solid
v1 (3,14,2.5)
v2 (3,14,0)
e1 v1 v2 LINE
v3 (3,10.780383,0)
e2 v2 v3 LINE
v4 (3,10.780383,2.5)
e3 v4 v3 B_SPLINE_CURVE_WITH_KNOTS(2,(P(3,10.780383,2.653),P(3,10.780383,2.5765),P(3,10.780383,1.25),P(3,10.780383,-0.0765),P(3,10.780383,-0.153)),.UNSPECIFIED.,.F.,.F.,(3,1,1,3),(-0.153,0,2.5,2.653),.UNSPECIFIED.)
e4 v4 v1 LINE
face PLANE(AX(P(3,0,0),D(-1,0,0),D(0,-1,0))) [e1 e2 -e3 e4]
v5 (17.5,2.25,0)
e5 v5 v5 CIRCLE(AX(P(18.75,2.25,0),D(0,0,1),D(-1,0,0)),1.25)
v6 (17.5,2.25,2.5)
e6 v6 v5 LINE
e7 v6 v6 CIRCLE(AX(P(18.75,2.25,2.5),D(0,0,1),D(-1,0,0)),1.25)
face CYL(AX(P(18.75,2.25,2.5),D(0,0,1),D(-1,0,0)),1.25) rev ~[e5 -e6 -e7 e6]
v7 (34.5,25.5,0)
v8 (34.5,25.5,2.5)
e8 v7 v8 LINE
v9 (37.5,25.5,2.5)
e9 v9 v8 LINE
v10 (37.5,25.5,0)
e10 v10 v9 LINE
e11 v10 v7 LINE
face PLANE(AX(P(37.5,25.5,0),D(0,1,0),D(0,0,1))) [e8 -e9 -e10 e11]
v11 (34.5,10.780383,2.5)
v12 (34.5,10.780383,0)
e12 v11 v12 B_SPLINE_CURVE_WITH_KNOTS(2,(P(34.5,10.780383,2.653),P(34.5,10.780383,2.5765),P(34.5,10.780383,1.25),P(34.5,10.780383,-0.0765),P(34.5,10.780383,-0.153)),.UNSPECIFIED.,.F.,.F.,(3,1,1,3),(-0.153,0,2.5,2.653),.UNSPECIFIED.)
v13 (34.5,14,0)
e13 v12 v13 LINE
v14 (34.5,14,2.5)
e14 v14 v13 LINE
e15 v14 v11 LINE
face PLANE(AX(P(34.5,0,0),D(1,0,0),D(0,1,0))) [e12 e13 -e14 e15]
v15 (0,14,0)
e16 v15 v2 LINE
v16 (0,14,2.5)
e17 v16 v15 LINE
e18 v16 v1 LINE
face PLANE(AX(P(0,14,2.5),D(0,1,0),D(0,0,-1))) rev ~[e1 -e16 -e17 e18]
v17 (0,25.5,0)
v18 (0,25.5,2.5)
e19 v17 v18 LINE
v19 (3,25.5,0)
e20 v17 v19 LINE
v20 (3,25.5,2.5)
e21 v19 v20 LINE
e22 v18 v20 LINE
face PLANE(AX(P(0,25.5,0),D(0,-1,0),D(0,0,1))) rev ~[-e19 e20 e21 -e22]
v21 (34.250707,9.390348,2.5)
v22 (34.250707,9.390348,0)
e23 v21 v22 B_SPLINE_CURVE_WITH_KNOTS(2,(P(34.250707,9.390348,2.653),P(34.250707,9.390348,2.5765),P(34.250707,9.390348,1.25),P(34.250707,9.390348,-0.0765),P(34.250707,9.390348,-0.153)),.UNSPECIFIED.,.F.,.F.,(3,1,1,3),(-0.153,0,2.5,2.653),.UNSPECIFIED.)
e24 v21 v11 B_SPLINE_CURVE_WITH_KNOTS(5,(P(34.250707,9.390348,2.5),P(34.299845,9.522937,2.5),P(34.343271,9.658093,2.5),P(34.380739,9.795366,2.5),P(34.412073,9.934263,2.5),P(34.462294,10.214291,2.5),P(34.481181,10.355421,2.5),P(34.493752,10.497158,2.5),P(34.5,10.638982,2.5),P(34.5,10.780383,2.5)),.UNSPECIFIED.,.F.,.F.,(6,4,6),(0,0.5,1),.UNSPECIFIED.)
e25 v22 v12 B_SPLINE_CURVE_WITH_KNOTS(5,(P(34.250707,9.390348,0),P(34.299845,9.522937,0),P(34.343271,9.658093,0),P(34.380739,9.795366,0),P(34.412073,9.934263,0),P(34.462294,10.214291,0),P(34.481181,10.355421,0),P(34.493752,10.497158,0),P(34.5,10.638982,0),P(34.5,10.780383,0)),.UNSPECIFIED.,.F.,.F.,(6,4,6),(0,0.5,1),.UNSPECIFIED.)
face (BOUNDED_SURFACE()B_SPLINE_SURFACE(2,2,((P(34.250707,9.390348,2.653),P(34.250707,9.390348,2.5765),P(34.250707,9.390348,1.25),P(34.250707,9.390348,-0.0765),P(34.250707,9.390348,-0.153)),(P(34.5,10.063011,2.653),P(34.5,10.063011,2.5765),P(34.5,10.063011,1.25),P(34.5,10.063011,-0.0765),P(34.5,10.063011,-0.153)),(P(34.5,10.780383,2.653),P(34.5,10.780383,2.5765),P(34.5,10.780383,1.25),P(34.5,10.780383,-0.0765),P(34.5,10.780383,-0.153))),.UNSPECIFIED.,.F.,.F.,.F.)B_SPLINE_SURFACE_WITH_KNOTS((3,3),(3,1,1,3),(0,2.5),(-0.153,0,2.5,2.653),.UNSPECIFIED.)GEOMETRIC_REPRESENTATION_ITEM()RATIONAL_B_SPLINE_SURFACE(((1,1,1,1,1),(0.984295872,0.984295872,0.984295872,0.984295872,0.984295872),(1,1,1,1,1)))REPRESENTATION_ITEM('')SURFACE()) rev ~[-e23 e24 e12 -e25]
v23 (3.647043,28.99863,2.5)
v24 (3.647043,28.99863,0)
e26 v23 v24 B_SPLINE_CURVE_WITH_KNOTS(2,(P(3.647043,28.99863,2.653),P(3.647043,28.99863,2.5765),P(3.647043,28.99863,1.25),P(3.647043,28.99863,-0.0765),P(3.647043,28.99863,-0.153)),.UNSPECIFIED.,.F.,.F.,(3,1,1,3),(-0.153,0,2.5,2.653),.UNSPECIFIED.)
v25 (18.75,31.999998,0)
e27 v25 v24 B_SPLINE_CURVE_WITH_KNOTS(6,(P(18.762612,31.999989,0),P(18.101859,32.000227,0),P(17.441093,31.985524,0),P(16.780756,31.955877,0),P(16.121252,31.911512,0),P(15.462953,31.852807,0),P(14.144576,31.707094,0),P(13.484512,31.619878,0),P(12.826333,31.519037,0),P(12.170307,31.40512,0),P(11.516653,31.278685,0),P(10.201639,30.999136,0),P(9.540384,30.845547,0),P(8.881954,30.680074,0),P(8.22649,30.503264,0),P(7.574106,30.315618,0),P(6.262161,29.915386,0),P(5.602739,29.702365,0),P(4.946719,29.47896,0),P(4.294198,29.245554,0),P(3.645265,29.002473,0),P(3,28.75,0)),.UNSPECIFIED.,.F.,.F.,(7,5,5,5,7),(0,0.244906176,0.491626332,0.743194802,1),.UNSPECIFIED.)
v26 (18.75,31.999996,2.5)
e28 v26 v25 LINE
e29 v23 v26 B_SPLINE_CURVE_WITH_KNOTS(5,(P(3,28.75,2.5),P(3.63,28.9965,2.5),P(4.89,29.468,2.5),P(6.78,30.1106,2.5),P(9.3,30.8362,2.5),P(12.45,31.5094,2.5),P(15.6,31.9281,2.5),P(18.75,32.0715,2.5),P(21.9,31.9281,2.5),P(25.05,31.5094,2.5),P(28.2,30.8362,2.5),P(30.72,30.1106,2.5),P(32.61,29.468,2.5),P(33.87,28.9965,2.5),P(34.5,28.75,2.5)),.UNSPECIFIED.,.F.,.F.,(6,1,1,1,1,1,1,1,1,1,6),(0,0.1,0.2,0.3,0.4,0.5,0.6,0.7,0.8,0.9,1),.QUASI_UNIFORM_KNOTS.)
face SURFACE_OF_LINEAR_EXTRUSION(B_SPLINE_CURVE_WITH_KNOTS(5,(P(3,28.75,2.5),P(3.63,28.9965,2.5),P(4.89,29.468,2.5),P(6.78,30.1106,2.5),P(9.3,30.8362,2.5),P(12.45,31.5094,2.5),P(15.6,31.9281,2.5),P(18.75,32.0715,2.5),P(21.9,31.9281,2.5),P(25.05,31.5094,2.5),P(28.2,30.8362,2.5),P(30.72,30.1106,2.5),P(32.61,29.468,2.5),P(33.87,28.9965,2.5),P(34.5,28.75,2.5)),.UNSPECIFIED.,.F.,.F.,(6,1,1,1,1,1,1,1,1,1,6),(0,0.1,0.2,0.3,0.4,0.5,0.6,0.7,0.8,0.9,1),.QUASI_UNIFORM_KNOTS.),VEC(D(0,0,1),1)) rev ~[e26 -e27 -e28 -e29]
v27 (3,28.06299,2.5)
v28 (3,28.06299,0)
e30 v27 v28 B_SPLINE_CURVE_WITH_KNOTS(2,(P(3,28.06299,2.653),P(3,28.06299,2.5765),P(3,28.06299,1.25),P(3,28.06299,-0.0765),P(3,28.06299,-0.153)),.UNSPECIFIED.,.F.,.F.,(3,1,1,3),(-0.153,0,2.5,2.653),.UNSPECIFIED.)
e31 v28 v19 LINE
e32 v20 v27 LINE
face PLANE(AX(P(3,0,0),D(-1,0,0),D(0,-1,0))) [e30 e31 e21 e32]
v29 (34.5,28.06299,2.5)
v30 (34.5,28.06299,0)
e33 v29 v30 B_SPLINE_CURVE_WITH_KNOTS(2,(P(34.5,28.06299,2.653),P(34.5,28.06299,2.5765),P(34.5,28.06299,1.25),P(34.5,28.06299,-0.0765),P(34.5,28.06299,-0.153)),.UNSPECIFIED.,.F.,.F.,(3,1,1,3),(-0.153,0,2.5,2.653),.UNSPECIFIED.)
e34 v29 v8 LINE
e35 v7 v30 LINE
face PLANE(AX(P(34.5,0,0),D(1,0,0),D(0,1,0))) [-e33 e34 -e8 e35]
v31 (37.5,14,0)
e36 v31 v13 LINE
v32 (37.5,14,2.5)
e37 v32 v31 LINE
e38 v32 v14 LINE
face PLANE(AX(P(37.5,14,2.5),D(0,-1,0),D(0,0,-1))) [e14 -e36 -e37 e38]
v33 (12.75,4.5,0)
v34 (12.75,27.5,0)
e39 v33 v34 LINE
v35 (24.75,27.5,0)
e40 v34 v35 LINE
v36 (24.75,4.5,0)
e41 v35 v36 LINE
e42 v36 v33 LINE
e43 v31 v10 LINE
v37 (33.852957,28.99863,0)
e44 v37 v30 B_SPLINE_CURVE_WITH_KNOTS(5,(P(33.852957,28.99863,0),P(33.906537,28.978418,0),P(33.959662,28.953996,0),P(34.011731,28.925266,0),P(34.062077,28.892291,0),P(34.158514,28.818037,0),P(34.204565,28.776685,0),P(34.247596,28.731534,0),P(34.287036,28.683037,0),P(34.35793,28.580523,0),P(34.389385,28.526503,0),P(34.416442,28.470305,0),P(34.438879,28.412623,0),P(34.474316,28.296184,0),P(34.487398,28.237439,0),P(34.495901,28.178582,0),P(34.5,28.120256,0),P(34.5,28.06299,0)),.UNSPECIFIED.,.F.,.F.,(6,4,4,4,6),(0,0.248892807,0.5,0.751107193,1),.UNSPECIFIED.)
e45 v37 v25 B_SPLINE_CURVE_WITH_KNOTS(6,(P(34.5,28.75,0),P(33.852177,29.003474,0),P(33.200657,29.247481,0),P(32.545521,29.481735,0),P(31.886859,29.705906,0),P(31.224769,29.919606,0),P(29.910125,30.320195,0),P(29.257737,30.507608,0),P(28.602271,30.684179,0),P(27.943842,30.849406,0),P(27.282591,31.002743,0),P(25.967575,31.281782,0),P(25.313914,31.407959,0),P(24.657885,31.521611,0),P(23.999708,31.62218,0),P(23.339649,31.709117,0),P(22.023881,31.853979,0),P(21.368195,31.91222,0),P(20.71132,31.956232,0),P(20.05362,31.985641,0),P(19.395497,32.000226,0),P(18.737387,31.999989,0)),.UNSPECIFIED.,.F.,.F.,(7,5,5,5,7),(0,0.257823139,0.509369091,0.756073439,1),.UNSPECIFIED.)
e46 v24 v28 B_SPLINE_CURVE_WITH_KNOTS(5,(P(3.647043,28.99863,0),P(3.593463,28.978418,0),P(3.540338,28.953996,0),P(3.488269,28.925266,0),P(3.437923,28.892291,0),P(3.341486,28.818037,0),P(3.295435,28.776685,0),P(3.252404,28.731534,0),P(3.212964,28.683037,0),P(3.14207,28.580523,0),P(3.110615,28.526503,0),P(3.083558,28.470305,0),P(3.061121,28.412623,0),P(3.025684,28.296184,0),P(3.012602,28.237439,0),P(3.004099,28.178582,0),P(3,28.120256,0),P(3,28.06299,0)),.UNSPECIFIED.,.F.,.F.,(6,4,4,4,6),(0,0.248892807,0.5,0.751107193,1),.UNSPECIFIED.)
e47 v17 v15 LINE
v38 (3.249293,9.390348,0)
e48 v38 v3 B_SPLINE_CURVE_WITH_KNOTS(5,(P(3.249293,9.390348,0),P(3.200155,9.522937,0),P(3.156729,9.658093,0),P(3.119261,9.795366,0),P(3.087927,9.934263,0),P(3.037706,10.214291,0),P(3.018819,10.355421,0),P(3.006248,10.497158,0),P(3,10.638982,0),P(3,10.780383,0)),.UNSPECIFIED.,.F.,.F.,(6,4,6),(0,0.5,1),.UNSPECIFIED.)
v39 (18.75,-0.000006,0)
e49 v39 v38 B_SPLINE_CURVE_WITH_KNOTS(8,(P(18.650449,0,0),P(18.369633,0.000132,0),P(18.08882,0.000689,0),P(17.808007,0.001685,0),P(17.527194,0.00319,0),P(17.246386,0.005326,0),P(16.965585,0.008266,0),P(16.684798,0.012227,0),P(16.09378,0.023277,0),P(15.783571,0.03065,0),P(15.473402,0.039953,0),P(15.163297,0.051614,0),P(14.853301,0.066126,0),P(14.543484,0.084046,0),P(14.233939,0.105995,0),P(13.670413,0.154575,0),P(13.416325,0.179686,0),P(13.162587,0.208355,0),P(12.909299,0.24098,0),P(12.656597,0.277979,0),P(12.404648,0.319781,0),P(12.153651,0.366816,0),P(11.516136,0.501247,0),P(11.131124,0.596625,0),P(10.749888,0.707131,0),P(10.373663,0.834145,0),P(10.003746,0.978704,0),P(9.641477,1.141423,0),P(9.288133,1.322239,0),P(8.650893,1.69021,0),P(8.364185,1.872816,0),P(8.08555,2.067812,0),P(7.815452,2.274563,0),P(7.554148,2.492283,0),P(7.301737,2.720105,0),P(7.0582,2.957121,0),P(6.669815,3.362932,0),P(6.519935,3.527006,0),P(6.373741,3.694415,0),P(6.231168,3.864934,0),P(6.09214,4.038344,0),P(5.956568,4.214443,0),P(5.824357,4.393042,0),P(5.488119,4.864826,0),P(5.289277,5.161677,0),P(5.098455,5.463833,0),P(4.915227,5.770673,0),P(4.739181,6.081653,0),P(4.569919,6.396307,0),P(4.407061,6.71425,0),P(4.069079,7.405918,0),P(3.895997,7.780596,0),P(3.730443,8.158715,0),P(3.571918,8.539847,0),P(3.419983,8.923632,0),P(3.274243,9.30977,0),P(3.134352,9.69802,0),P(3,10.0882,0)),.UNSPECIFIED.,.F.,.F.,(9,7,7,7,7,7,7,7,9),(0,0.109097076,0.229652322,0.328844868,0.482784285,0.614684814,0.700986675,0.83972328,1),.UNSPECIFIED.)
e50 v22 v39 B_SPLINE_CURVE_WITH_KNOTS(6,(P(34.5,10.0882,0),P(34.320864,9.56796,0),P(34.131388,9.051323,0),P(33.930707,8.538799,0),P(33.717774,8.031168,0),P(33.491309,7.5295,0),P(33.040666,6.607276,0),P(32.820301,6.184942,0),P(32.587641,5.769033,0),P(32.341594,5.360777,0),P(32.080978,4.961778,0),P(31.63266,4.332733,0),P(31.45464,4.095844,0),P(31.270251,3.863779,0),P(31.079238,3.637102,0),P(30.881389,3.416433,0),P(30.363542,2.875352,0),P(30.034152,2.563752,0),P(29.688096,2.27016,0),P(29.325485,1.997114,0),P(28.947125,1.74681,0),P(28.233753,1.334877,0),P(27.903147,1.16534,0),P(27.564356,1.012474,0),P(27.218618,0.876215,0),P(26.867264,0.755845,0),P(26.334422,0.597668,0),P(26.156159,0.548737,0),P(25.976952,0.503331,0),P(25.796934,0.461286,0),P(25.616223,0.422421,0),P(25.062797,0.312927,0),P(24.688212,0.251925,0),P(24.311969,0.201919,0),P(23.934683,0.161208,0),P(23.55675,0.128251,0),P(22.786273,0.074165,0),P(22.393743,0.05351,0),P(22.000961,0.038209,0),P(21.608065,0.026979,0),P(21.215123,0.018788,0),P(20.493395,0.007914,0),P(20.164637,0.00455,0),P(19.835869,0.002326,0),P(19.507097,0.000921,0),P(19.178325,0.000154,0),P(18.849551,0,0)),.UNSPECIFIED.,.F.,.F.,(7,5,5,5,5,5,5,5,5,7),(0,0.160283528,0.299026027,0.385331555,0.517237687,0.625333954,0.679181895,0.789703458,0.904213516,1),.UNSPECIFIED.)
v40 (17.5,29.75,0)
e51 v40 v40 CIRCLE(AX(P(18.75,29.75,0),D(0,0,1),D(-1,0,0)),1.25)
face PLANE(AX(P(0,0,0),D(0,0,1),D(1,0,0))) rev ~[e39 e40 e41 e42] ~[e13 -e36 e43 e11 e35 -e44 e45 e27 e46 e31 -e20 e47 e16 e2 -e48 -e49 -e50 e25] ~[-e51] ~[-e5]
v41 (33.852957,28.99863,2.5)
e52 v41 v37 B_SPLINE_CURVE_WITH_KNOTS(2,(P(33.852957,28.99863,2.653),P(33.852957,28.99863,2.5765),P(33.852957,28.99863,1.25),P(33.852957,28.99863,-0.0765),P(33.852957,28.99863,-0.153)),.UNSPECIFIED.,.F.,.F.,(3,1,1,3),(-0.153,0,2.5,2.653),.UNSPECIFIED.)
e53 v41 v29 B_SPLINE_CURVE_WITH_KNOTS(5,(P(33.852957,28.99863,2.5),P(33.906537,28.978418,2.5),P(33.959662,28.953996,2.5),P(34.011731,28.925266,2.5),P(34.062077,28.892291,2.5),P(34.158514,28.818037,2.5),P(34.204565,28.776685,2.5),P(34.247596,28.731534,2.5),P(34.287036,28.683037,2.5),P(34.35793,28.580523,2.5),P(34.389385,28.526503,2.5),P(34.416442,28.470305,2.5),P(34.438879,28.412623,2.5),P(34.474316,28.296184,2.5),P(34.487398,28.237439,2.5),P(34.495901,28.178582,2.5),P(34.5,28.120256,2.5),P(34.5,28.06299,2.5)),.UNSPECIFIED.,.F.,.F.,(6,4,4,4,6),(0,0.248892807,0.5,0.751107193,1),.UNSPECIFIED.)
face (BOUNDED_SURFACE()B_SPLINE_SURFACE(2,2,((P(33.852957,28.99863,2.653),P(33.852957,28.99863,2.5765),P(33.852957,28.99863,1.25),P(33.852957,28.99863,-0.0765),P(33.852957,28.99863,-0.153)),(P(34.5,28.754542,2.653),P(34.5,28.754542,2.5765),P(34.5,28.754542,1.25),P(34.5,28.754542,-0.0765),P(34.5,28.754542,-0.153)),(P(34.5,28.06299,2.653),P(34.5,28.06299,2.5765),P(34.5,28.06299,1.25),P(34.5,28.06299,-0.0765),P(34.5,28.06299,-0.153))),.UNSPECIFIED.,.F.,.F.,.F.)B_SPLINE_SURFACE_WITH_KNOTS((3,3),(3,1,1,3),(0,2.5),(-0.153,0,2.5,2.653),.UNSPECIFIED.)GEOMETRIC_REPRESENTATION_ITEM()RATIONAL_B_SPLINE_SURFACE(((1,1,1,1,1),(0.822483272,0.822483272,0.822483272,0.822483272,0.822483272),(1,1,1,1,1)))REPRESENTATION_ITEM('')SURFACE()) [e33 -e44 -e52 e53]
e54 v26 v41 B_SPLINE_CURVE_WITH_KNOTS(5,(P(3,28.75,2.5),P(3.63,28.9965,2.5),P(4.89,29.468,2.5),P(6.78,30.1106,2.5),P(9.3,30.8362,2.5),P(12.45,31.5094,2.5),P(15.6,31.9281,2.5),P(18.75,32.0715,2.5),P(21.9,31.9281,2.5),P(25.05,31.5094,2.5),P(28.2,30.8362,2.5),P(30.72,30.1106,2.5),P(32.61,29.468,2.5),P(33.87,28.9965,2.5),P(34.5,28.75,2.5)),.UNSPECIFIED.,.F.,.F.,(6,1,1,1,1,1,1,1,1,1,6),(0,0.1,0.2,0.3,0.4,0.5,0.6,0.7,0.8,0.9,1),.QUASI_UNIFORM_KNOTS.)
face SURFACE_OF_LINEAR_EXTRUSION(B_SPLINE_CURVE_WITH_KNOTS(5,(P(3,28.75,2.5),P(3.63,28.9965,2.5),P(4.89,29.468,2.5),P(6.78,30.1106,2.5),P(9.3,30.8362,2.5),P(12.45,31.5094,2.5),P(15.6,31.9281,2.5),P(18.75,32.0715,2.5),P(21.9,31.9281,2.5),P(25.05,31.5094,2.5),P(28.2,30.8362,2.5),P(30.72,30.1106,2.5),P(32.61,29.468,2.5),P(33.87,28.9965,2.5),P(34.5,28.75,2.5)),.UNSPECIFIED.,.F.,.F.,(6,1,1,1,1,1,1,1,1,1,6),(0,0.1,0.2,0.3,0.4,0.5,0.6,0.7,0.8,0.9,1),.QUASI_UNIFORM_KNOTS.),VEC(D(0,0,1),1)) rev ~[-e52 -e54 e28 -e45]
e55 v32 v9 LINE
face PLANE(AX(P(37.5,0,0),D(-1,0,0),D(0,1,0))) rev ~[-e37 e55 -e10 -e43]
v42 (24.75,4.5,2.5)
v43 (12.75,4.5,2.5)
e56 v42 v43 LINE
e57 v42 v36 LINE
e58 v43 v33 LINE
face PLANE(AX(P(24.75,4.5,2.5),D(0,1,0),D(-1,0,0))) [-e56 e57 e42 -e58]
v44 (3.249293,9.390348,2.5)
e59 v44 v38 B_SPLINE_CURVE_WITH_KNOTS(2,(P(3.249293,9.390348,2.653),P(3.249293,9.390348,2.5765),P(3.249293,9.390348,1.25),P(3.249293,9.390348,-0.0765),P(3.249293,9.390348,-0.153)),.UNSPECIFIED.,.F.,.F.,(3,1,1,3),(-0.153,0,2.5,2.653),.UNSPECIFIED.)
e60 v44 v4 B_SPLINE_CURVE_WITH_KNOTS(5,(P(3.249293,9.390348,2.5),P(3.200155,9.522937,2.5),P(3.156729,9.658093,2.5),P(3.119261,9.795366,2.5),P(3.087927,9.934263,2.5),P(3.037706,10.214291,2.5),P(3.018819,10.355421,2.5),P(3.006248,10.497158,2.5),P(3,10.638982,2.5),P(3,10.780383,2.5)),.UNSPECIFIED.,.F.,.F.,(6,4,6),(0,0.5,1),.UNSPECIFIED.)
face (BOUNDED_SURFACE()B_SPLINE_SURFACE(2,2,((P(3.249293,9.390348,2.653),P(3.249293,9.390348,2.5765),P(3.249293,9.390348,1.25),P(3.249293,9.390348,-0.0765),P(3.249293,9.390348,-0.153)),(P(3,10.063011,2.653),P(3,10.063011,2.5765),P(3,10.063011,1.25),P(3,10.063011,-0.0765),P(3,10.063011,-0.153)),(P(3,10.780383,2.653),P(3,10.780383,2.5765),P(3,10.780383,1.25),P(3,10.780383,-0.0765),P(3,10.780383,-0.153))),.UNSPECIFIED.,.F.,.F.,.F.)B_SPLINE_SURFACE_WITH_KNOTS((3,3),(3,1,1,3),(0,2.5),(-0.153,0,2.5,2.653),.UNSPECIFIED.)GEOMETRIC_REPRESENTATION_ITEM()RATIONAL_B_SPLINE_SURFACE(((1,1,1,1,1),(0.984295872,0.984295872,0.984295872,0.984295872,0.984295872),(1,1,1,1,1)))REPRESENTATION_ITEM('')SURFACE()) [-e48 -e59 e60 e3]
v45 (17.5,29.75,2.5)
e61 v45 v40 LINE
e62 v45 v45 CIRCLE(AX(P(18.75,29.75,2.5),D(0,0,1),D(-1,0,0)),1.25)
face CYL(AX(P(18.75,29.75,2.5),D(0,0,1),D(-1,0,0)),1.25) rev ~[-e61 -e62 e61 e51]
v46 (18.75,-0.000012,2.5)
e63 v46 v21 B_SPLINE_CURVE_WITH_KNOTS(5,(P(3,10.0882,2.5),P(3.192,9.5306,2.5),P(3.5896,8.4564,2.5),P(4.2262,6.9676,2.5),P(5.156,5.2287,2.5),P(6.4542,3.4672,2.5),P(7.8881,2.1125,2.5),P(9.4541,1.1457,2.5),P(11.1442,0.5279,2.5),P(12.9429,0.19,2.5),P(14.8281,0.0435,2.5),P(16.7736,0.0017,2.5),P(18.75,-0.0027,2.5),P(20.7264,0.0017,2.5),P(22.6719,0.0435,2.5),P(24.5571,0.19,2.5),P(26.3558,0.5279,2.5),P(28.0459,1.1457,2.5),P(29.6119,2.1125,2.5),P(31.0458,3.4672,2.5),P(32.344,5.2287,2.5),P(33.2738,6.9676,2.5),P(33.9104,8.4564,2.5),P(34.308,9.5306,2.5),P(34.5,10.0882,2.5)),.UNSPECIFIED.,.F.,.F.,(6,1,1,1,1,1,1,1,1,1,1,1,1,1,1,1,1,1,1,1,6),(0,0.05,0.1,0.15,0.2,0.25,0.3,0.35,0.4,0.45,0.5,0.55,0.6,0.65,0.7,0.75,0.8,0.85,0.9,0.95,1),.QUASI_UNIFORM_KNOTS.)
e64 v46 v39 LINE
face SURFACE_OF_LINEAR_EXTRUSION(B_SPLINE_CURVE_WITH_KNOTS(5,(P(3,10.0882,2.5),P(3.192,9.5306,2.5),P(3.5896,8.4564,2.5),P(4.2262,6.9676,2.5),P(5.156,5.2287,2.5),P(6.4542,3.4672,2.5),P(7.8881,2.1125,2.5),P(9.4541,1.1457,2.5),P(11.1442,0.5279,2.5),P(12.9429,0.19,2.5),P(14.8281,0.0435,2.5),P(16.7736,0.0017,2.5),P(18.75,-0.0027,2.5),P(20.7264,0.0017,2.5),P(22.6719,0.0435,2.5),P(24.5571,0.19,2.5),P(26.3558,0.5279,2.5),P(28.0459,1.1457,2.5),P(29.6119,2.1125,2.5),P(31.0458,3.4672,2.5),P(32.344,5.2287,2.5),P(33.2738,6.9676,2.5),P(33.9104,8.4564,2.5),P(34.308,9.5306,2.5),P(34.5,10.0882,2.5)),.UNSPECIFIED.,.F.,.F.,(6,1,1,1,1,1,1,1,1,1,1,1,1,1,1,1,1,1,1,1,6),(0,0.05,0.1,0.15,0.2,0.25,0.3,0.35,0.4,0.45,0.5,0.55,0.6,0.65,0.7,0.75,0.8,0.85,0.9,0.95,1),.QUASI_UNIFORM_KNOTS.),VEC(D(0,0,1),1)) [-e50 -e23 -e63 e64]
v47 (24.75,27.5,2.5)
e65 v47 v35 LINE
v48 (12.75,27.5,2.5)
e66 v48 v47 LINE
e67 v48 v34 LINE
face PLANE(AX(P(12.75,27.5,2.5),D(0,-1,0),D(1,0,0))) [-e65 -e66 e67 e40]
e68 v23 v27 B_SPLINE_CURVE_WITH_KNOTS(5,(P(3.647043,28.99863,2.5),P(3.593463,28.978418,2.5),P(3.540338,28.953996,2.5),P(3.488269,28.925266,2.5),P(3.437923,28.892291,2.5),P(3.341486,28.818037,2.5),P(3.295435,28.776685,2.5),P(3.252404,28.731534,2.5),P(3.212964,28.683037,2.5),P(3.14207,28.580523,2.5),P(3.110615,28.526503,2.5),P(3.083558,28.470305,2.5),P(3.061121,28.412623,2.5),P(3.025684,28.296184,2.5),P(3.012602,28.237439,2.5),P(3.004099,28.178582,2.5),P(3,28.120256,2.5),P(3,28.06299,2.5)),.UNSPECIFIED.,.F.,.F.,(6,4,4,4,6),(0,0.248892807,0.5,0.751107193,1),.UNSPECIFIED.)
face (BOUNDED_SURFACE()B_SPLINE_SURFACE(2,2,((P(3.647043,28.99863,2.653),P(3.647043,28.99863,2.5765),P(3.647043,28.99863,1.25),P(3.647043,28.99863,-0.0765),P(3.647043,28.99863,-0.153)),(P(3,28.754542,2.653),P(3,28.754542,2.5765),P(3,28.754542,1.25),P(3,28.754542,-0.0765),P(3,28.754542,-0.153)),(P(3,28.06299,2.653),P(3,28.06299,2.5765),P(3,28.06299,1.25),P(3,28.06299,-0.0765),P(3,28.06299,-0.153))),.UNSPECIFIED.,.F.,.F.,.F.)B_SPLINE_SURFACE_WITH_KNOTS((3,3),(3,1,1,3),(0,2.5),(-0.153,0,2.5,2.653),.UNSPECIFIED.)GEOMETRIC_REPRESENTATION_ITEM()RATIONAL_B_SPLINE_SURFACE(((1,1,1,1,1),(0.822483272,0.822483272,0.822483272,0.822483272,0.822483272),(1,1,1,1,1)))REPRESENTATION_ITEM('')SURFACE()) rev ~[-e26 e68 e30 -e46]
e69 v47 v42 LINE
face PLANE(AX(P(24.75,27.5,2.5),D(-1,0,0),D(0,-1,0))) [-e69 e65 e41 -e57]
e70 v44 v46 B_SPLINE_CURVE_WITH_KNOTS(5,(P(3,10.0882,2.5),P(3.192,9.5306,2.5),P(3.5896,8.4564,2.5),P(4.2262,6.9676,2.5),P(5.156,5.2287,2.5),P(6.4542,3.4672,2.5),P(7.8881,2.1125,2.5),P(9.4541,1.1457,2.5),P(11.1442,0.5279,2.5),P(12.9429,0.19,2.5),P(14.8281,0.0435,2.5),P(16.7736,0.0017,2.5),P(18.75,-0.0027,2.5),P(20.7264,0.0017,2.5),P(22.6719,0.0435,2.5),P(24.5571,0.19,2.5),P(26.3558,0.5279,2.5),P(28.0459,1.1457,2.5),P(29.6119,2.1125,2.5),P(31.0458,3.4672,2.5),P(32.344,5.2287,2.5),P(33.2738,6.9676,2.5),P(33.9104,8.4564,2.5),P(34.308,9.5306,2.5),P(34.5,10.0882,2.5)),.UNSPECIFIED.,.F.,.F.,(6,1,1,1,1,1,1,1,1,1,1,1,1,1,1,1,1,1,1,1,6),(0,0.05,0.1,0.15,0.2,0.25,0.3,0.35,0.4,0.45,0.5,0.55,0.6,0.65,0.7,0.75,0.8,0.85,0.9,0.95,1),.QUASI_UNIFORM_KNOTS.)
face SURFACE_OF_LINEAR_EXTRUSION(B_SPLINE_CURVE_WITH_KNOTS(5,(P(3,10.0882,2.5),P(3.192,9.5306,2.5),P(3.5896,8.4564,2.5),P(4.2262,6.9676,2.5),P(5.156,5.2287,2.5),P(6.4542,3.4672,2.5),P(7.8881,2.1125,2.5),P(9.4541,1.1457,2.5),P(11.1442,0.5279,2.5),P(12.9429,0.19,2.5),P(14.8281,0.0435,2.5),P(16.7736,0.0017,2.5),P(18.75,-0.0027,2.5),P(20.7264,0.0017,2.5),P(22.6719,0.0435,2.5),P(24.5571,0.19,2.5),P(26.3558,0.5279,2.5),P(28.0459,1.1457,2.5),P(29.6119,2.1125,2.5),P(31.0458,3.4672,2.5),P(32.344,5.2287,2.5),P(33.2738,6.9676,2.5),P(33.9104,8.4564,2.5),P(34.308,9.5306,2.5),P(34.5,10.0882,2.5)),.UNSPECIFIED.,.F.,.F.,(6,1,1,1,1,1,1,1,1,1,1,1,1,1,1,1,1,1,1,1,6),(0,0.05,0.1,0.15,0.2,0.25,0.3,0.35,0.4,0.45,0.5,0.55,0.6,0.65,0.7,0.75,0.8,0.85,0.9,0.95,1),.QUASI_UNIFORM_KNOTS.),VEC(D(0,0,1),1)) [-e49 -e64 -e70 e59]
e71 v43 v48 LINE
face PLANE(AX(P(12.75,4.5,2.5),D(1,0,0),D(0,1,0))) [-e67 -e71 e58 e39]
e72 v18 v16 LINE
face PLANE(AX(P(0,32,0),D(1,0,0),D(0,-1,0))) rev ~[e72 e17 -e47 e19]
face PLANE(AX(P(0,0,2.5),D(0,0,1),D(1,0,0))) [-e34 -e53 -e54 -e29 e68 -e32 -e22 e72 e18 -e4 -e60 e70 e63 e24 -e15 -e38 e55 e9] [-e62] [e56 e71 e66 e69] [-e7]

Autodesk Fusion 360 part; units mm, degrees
sketch "Sketch1" plane through (0, 0, 0) normal (0, 0, 1) x (1, 0, 0)
  line L0 (0, 0) -> (37.5, 0)
  line L1 (37.5, 0) -> (37.5, 32)
  line L2 (37.5, 32) -> (0, 32)
  line L3 (0, 32) -> (0, 0)
  dimension "d1" = 37.5
  dimension "d2" = 32
extrude "Extrude1" add sketch "Sketch1" along normal blind 2.5
sketch "Sketch2" plane through (0, 0, 2.5) normal (0, 0, 1) x (-1, 0, 0)
  line L0 (0, -32) -> (0, 0)
  line L1 (0, 0) -> (-37.5, 0)
  line L2 (-37.5, 0) -> (-37.5, -32)
  line L3 (-37.5, -32) -> (0, -32)
  circle A0 centre (-18.75, -29.75) radius 1.25
  dimension "d5" = 2.5
  dimension "d6" = 18.75
  dimension "d7" = 2.25
extrude "Extrude2" cut sketch "Sketch2" against normal blind 3 contours A0
sketch "Sketch3" plane through (0, 0, 2.5) normal (0, 0, 1) x (-1, 0, 0)
  circle A0 centre (-18.75, -29.75) radius 1.25
  line L0 (0, -32) -> (0, 0)
  line L1 (0, 0) -> (-37.5, 0)
  line L2 (-37.5, 0) -> (-37.5, -32)
  line L3 (-37.5, -32) -> (0, -32)
  circle A1 centre (-18.75, -2.25) radius 1.25
  dimension "d10" = 2.5
  dimension "d11" = 27.5
  dimension "d12" = 18.75
extrude "Extrude3" cut sketch "Sketch3" against normal blind 3 contours A1
sketch "Sketch4" plane through (0, 0, 2.5) normal (0, 0, 1) x (-1, 0, 0)
  circle A0 centre (-18.75, -2.25) radius 1.25
  circle A1 centre (-18.75, -29.75) radius 1.25
  line L0 (0, -32) -> (0, 0)
  line L1 (0, 0) -> (-37.5, 0)
  line L2 (-37.5, 0) -> (-37.5, -32)
  line L3 (-37.5, -32) -> (0, -32)
  line L4 (-12.75, -27.5) -> (-24.75, -27.5)
  line L5 (-24.75, -27.5) -> (-24.75, -4.5)
  line L6 (-24.75, -4.5) -> (-12.75, -4.5)
  line L7 (-12.75, -4.5) -> (-12.75, -27.5)
  dimension "d15" = 23
  dimension "d16" = 12
  dimension "d17" = 6
  dimension "d18" = 2.25
extrude "Extrude4" cut sketch "Sketch4" against normal blind 3 contours L4 L5 L6 L7
sketch "Sketch5" plane through (37.5, 0, 0) normal (1, 0, 0) x (0, 1, 0)
  line L0 (0, 0) -> (32, 0)
  line L1 (32, 0) -> (32, 2.5)
  line L2 (32, 2.5) -> (0, 2.5)
  line L3 (0, 2.5) -> (0, 0)
  line L4 (25.5, 2.5) -> (14, 2.5)
  line L5 (14, 2.5) -> (14, 0)
  line L6 (14, 0) -> (25.5, 0)
  line L7 (25.5, 0) -> (25.5, 2.5)
  point P0 (27.5, 2.5)
  dimension "d21" = 11.5
  dimension "d22" = 2
extrude "Extrude5" cut sketch "Sketch5" against normal blind 3 contours L0 L2 L3 L5 | L0 L1 L2 L7
sketch "Sketch6" plane through (0, 0, 0) normal (-1, 0, 0) x (0, -1, 0)
  line L0 (-32, 0) -> (0, 0)
  line L1 (0, 0) -> (0, 2.5)
  line L2 (0, 2.5) -> (-32, 2.5)
  line L3 (-32, 2.5) -> (-32, 0)
  line L4 (-25.5, 2.5) -> (-14, 2.5)
  line L5 (-14, 2.5) -> (-14, 0)
  line L6 (-14, 0) -> (-25.5, 0)
  line L7 (-25.5, 0) -> (-25.5, 2.5)
  point P0 (-27.5, 2.5)
  dimension "d25" = 11.5
  dimension "d26" = 2
extrude "Extrude6" cut sketch "Sketch6" against normal blind 3 contours L0 L2 L3 L7 | L0 L1 L2 L5
sketch "Sketch7" plane through (0, 0, 2.5) normal (0, 0, 1) x (-1, 0, 0)
  line L0 (-3, -25.5) -> (0, -25.5)
  line L1 (0, -25.5) -> (0, -14)
  line L2 (0, -14) -> (-3, -14)
  line L3 (-3, -14) -> (-3, 0)
  line L4 (-3, 0) -> (-34.5, 0)
  line L5 (-34.5, 0) -> (-34.5, -14)
  line L6 (-34.5, -14) -> (-37.5, -14)
  line L7 (-37.5, -14) -> (-37.5, -25.5)
  line L8 (-37.5, -25.5) -> (-34.5, -25.5)
  line L9 (-34.5, -25.5) -> (-34.5, -32)
  line L10 (-34.5, -32) -> (-3, -32)
  line L11 (-3, -32) -> (-3, -25.5)
  circle A0 centre (-18.75, -29.75) radius 1.25
  circle A1 centre (-18.75, -2.25) radius 1.25
  line L12 (-24.75, -27.5) -> (-24.75, -4.5)
  line L13 (-24.75, -4.5) -> (-12.75, -4.5)
  line L14 (-12.75, -4.5) -> (-12.75, -27.5)
  line L15 (-12.75, -27.5) -> (-24.75, -27.5)
  spline S0 degree 5 poles (-3, -28.75) (-3.63, -28.9965) (-4.89, -29.468) (-6.78, -30.1106) (-9.3, -30.8362) (-12.45, -31.5094) (-15.6, -31.9281) (-18.75, -32.0715) (-21.9, -31.9281) (-25.05, -31.5094) (-28.2, -30.8362) (-30.72, -30.1106) (-32.61, -29.468) (-33.87, -28.9965) (-34.5, -28.75) knots 0 0 0 0 0 0 0.1 0.2 0.3 0.4 0.5 0.6 0.7 0.8 0.9 1 1 1 1 1 1
  point P0 (-18.75, -32)
extrude "Extrude7" cut sketch "Sketch7" against normal blind 3 contours L10 L11 S0 | L9 L10 S0
fillet "Fillet1" radius 1 1 edges at (34.5, 28.75, 1.25)
fillet "Fillet2" radius 1 1 edges at (3, 28.75, 1.25)
sketch "Sketch8" plane through (0, 0, 2.5) normal (0, 0, 1) x (-1, 0, 0)
  spline S0 degree 3 poles (-3, -28.063) (-3, -28.1932) (-3.0254, -28.3222) (-3.1243, -28.5631) (-3.1968, -28.6728) (-3.3388, -28.8166) (-3.3947, -28.8622) (-3.5154, -28.9407) (-3.5797, -28.9732) (-3.647, -28.9986) knots 0 0 0 0 0.039064 0.039064 0.078129 0.078129 0.099711 0.099711 0.121294 0.121294 0.121294 0.121294
  line L0 (-3, -28.063) -> (-3, -25.5)
  line L1 (-3, -25.5) -> (0, -25.5)
  line L2 (0, -25.5) -> (0, -14)
  line L3 (0, -14) -> (-3, -14)
  line L4 (-3, -14) -> (-3, 0)
  line L5 (-3, 0) -> (-34.5, 0)
  line L6 (-34.5, 0) -> (-34.5, -14)
  line L7 (-34.5, -14) -> (-37.5, -14)
  line L8 (-37.5, -14) -> (-37.5, -25.5)
  line L9 (-37.5, -25.5) -> (-34.5, -25.5)
  line L10 (-34.5, -25.5) -> (-34.5, -28.063)
  spline S1 degree 3 poles (-33.853, -28.9986) (-33.9748, -28.9527) (-34.0865, -28.8834) (-34.277, -28.7058) (-34.354, -28.5993) (-34.4385, -28.4156) (-34.4615, -28.3472) (-34.4922, -28.2067) (-34.5, -28.1349) (-34.5, -28.063) knots 0 0 0 0 0.039064 0.039064 0.078129 0.078129 0.099711 0.099711 0.121294 0.121294 0.121294 0.121294
  spline S2 degree 5 poles (-33.853, -28.9986) (-33.3524, -29.1875) (-32.2218, -29.5986) (-30.4612, -30.1847) (-28.0706, -30.8638) (-25.05, -31.5094) (-22.53, -31.8444) (-20.64, -31.9717) (-19.38, -32) (-18.75, -32) knots -0.979459 -0.979459 -0.979459 -0.979459 -0.979459 -0.979459 -0.9 -0.8 -0.7 -0.6 -0.5 -0.5 -0.5 -0.5 -0.5 -0.5
  spline S3 degree 5 poles (-18.75, -32) (-18.12, -32) (-16.86, -31.9717) (-14.97, -31.8444) (-12.45, -31.5094) (-9.4294, -30.8638) (-7.0388, -30.1847) (-5.2782, -29.5986) (-4.1476, -29.1875) (-3.647, -28.9986) knots -0.5 -0.5 -0.5 -0.5 -0.5 -0.5 -0.4 -0.3 -0.2 -0.1 -0.020541 -0.020541 -0.020541 -0.020541 -0.020541 -0.020541
  circle A0 centre (-18.75, -29.75) radius 1.25
  circle A1 centre (-18.75, -2.25) radius 1.25
  line L11 (-24.75, -27.5) -> (-24.75, -4.5)
  line L12 (-24.75, -4.5) -> (-12.75, -4.5)
  line L13 (-12.75, -4.5) -> (-12.75, -27.5)
  line L14 (-12.75, -27.5) -> (-24.75, -27.5)
  spline S4 degree 5 poles (-3, -10.0882) (-3.192, -9.5306) (-3.5896, -8.4564) (-4.2262, -6.9676) (-5.156, -5.2287) (-6.4542, -3.4672) (-7.8881, -2.1125) (-9.4541, -1.1457) (-11.1442, -0.5279) (-12.9429, -0.19) (-14.8281, -0.0435) (-16.7736, -0.0017) (-18.75, 0.0027) (-20.7264, -0.0017) (-22.6719, -0.0435) (-24.5571, -0.19) (-26.3558, -0.5279) (-28.0459, -1.1457) (-29.6119, -2.1125) (-31.0458, -3.4672) (-32.344, -5.2287) (-33.2738, -6.9676) (-33.9104, -8.4564) (-34.308, -9.5306) (-34.5, -10.0882) knots 0 0 0 0 0 0 0.05 0.1 0.15 0.2 0.25 0.3 0.35 0.4 0.45 0.5 0.55 0.6 0.65 0.7 0.75 0.8 0.85 0.9 0.95 1 1 1 1 1 1
  point P0 (-10, -1)
  point P1 (-18.75, 0)
  point P2 (-27.5, -1)
  dimension "d35" = 8.75
  dimension "d36" = 8.75
  dimension "d37" = 1
  dimension "d38" = 1
extrude "Extrude8" cut sketch "Sketch8" against normal blind 3 contours L4 L5 S4 | L5 L6 S4
fillet "Fillet3" radius 4 1 edges at (3, 10.0882, 1.25)
fillet "Fillet4" radius 4 1 edges at (34.5, 10.0882, 1.25)
